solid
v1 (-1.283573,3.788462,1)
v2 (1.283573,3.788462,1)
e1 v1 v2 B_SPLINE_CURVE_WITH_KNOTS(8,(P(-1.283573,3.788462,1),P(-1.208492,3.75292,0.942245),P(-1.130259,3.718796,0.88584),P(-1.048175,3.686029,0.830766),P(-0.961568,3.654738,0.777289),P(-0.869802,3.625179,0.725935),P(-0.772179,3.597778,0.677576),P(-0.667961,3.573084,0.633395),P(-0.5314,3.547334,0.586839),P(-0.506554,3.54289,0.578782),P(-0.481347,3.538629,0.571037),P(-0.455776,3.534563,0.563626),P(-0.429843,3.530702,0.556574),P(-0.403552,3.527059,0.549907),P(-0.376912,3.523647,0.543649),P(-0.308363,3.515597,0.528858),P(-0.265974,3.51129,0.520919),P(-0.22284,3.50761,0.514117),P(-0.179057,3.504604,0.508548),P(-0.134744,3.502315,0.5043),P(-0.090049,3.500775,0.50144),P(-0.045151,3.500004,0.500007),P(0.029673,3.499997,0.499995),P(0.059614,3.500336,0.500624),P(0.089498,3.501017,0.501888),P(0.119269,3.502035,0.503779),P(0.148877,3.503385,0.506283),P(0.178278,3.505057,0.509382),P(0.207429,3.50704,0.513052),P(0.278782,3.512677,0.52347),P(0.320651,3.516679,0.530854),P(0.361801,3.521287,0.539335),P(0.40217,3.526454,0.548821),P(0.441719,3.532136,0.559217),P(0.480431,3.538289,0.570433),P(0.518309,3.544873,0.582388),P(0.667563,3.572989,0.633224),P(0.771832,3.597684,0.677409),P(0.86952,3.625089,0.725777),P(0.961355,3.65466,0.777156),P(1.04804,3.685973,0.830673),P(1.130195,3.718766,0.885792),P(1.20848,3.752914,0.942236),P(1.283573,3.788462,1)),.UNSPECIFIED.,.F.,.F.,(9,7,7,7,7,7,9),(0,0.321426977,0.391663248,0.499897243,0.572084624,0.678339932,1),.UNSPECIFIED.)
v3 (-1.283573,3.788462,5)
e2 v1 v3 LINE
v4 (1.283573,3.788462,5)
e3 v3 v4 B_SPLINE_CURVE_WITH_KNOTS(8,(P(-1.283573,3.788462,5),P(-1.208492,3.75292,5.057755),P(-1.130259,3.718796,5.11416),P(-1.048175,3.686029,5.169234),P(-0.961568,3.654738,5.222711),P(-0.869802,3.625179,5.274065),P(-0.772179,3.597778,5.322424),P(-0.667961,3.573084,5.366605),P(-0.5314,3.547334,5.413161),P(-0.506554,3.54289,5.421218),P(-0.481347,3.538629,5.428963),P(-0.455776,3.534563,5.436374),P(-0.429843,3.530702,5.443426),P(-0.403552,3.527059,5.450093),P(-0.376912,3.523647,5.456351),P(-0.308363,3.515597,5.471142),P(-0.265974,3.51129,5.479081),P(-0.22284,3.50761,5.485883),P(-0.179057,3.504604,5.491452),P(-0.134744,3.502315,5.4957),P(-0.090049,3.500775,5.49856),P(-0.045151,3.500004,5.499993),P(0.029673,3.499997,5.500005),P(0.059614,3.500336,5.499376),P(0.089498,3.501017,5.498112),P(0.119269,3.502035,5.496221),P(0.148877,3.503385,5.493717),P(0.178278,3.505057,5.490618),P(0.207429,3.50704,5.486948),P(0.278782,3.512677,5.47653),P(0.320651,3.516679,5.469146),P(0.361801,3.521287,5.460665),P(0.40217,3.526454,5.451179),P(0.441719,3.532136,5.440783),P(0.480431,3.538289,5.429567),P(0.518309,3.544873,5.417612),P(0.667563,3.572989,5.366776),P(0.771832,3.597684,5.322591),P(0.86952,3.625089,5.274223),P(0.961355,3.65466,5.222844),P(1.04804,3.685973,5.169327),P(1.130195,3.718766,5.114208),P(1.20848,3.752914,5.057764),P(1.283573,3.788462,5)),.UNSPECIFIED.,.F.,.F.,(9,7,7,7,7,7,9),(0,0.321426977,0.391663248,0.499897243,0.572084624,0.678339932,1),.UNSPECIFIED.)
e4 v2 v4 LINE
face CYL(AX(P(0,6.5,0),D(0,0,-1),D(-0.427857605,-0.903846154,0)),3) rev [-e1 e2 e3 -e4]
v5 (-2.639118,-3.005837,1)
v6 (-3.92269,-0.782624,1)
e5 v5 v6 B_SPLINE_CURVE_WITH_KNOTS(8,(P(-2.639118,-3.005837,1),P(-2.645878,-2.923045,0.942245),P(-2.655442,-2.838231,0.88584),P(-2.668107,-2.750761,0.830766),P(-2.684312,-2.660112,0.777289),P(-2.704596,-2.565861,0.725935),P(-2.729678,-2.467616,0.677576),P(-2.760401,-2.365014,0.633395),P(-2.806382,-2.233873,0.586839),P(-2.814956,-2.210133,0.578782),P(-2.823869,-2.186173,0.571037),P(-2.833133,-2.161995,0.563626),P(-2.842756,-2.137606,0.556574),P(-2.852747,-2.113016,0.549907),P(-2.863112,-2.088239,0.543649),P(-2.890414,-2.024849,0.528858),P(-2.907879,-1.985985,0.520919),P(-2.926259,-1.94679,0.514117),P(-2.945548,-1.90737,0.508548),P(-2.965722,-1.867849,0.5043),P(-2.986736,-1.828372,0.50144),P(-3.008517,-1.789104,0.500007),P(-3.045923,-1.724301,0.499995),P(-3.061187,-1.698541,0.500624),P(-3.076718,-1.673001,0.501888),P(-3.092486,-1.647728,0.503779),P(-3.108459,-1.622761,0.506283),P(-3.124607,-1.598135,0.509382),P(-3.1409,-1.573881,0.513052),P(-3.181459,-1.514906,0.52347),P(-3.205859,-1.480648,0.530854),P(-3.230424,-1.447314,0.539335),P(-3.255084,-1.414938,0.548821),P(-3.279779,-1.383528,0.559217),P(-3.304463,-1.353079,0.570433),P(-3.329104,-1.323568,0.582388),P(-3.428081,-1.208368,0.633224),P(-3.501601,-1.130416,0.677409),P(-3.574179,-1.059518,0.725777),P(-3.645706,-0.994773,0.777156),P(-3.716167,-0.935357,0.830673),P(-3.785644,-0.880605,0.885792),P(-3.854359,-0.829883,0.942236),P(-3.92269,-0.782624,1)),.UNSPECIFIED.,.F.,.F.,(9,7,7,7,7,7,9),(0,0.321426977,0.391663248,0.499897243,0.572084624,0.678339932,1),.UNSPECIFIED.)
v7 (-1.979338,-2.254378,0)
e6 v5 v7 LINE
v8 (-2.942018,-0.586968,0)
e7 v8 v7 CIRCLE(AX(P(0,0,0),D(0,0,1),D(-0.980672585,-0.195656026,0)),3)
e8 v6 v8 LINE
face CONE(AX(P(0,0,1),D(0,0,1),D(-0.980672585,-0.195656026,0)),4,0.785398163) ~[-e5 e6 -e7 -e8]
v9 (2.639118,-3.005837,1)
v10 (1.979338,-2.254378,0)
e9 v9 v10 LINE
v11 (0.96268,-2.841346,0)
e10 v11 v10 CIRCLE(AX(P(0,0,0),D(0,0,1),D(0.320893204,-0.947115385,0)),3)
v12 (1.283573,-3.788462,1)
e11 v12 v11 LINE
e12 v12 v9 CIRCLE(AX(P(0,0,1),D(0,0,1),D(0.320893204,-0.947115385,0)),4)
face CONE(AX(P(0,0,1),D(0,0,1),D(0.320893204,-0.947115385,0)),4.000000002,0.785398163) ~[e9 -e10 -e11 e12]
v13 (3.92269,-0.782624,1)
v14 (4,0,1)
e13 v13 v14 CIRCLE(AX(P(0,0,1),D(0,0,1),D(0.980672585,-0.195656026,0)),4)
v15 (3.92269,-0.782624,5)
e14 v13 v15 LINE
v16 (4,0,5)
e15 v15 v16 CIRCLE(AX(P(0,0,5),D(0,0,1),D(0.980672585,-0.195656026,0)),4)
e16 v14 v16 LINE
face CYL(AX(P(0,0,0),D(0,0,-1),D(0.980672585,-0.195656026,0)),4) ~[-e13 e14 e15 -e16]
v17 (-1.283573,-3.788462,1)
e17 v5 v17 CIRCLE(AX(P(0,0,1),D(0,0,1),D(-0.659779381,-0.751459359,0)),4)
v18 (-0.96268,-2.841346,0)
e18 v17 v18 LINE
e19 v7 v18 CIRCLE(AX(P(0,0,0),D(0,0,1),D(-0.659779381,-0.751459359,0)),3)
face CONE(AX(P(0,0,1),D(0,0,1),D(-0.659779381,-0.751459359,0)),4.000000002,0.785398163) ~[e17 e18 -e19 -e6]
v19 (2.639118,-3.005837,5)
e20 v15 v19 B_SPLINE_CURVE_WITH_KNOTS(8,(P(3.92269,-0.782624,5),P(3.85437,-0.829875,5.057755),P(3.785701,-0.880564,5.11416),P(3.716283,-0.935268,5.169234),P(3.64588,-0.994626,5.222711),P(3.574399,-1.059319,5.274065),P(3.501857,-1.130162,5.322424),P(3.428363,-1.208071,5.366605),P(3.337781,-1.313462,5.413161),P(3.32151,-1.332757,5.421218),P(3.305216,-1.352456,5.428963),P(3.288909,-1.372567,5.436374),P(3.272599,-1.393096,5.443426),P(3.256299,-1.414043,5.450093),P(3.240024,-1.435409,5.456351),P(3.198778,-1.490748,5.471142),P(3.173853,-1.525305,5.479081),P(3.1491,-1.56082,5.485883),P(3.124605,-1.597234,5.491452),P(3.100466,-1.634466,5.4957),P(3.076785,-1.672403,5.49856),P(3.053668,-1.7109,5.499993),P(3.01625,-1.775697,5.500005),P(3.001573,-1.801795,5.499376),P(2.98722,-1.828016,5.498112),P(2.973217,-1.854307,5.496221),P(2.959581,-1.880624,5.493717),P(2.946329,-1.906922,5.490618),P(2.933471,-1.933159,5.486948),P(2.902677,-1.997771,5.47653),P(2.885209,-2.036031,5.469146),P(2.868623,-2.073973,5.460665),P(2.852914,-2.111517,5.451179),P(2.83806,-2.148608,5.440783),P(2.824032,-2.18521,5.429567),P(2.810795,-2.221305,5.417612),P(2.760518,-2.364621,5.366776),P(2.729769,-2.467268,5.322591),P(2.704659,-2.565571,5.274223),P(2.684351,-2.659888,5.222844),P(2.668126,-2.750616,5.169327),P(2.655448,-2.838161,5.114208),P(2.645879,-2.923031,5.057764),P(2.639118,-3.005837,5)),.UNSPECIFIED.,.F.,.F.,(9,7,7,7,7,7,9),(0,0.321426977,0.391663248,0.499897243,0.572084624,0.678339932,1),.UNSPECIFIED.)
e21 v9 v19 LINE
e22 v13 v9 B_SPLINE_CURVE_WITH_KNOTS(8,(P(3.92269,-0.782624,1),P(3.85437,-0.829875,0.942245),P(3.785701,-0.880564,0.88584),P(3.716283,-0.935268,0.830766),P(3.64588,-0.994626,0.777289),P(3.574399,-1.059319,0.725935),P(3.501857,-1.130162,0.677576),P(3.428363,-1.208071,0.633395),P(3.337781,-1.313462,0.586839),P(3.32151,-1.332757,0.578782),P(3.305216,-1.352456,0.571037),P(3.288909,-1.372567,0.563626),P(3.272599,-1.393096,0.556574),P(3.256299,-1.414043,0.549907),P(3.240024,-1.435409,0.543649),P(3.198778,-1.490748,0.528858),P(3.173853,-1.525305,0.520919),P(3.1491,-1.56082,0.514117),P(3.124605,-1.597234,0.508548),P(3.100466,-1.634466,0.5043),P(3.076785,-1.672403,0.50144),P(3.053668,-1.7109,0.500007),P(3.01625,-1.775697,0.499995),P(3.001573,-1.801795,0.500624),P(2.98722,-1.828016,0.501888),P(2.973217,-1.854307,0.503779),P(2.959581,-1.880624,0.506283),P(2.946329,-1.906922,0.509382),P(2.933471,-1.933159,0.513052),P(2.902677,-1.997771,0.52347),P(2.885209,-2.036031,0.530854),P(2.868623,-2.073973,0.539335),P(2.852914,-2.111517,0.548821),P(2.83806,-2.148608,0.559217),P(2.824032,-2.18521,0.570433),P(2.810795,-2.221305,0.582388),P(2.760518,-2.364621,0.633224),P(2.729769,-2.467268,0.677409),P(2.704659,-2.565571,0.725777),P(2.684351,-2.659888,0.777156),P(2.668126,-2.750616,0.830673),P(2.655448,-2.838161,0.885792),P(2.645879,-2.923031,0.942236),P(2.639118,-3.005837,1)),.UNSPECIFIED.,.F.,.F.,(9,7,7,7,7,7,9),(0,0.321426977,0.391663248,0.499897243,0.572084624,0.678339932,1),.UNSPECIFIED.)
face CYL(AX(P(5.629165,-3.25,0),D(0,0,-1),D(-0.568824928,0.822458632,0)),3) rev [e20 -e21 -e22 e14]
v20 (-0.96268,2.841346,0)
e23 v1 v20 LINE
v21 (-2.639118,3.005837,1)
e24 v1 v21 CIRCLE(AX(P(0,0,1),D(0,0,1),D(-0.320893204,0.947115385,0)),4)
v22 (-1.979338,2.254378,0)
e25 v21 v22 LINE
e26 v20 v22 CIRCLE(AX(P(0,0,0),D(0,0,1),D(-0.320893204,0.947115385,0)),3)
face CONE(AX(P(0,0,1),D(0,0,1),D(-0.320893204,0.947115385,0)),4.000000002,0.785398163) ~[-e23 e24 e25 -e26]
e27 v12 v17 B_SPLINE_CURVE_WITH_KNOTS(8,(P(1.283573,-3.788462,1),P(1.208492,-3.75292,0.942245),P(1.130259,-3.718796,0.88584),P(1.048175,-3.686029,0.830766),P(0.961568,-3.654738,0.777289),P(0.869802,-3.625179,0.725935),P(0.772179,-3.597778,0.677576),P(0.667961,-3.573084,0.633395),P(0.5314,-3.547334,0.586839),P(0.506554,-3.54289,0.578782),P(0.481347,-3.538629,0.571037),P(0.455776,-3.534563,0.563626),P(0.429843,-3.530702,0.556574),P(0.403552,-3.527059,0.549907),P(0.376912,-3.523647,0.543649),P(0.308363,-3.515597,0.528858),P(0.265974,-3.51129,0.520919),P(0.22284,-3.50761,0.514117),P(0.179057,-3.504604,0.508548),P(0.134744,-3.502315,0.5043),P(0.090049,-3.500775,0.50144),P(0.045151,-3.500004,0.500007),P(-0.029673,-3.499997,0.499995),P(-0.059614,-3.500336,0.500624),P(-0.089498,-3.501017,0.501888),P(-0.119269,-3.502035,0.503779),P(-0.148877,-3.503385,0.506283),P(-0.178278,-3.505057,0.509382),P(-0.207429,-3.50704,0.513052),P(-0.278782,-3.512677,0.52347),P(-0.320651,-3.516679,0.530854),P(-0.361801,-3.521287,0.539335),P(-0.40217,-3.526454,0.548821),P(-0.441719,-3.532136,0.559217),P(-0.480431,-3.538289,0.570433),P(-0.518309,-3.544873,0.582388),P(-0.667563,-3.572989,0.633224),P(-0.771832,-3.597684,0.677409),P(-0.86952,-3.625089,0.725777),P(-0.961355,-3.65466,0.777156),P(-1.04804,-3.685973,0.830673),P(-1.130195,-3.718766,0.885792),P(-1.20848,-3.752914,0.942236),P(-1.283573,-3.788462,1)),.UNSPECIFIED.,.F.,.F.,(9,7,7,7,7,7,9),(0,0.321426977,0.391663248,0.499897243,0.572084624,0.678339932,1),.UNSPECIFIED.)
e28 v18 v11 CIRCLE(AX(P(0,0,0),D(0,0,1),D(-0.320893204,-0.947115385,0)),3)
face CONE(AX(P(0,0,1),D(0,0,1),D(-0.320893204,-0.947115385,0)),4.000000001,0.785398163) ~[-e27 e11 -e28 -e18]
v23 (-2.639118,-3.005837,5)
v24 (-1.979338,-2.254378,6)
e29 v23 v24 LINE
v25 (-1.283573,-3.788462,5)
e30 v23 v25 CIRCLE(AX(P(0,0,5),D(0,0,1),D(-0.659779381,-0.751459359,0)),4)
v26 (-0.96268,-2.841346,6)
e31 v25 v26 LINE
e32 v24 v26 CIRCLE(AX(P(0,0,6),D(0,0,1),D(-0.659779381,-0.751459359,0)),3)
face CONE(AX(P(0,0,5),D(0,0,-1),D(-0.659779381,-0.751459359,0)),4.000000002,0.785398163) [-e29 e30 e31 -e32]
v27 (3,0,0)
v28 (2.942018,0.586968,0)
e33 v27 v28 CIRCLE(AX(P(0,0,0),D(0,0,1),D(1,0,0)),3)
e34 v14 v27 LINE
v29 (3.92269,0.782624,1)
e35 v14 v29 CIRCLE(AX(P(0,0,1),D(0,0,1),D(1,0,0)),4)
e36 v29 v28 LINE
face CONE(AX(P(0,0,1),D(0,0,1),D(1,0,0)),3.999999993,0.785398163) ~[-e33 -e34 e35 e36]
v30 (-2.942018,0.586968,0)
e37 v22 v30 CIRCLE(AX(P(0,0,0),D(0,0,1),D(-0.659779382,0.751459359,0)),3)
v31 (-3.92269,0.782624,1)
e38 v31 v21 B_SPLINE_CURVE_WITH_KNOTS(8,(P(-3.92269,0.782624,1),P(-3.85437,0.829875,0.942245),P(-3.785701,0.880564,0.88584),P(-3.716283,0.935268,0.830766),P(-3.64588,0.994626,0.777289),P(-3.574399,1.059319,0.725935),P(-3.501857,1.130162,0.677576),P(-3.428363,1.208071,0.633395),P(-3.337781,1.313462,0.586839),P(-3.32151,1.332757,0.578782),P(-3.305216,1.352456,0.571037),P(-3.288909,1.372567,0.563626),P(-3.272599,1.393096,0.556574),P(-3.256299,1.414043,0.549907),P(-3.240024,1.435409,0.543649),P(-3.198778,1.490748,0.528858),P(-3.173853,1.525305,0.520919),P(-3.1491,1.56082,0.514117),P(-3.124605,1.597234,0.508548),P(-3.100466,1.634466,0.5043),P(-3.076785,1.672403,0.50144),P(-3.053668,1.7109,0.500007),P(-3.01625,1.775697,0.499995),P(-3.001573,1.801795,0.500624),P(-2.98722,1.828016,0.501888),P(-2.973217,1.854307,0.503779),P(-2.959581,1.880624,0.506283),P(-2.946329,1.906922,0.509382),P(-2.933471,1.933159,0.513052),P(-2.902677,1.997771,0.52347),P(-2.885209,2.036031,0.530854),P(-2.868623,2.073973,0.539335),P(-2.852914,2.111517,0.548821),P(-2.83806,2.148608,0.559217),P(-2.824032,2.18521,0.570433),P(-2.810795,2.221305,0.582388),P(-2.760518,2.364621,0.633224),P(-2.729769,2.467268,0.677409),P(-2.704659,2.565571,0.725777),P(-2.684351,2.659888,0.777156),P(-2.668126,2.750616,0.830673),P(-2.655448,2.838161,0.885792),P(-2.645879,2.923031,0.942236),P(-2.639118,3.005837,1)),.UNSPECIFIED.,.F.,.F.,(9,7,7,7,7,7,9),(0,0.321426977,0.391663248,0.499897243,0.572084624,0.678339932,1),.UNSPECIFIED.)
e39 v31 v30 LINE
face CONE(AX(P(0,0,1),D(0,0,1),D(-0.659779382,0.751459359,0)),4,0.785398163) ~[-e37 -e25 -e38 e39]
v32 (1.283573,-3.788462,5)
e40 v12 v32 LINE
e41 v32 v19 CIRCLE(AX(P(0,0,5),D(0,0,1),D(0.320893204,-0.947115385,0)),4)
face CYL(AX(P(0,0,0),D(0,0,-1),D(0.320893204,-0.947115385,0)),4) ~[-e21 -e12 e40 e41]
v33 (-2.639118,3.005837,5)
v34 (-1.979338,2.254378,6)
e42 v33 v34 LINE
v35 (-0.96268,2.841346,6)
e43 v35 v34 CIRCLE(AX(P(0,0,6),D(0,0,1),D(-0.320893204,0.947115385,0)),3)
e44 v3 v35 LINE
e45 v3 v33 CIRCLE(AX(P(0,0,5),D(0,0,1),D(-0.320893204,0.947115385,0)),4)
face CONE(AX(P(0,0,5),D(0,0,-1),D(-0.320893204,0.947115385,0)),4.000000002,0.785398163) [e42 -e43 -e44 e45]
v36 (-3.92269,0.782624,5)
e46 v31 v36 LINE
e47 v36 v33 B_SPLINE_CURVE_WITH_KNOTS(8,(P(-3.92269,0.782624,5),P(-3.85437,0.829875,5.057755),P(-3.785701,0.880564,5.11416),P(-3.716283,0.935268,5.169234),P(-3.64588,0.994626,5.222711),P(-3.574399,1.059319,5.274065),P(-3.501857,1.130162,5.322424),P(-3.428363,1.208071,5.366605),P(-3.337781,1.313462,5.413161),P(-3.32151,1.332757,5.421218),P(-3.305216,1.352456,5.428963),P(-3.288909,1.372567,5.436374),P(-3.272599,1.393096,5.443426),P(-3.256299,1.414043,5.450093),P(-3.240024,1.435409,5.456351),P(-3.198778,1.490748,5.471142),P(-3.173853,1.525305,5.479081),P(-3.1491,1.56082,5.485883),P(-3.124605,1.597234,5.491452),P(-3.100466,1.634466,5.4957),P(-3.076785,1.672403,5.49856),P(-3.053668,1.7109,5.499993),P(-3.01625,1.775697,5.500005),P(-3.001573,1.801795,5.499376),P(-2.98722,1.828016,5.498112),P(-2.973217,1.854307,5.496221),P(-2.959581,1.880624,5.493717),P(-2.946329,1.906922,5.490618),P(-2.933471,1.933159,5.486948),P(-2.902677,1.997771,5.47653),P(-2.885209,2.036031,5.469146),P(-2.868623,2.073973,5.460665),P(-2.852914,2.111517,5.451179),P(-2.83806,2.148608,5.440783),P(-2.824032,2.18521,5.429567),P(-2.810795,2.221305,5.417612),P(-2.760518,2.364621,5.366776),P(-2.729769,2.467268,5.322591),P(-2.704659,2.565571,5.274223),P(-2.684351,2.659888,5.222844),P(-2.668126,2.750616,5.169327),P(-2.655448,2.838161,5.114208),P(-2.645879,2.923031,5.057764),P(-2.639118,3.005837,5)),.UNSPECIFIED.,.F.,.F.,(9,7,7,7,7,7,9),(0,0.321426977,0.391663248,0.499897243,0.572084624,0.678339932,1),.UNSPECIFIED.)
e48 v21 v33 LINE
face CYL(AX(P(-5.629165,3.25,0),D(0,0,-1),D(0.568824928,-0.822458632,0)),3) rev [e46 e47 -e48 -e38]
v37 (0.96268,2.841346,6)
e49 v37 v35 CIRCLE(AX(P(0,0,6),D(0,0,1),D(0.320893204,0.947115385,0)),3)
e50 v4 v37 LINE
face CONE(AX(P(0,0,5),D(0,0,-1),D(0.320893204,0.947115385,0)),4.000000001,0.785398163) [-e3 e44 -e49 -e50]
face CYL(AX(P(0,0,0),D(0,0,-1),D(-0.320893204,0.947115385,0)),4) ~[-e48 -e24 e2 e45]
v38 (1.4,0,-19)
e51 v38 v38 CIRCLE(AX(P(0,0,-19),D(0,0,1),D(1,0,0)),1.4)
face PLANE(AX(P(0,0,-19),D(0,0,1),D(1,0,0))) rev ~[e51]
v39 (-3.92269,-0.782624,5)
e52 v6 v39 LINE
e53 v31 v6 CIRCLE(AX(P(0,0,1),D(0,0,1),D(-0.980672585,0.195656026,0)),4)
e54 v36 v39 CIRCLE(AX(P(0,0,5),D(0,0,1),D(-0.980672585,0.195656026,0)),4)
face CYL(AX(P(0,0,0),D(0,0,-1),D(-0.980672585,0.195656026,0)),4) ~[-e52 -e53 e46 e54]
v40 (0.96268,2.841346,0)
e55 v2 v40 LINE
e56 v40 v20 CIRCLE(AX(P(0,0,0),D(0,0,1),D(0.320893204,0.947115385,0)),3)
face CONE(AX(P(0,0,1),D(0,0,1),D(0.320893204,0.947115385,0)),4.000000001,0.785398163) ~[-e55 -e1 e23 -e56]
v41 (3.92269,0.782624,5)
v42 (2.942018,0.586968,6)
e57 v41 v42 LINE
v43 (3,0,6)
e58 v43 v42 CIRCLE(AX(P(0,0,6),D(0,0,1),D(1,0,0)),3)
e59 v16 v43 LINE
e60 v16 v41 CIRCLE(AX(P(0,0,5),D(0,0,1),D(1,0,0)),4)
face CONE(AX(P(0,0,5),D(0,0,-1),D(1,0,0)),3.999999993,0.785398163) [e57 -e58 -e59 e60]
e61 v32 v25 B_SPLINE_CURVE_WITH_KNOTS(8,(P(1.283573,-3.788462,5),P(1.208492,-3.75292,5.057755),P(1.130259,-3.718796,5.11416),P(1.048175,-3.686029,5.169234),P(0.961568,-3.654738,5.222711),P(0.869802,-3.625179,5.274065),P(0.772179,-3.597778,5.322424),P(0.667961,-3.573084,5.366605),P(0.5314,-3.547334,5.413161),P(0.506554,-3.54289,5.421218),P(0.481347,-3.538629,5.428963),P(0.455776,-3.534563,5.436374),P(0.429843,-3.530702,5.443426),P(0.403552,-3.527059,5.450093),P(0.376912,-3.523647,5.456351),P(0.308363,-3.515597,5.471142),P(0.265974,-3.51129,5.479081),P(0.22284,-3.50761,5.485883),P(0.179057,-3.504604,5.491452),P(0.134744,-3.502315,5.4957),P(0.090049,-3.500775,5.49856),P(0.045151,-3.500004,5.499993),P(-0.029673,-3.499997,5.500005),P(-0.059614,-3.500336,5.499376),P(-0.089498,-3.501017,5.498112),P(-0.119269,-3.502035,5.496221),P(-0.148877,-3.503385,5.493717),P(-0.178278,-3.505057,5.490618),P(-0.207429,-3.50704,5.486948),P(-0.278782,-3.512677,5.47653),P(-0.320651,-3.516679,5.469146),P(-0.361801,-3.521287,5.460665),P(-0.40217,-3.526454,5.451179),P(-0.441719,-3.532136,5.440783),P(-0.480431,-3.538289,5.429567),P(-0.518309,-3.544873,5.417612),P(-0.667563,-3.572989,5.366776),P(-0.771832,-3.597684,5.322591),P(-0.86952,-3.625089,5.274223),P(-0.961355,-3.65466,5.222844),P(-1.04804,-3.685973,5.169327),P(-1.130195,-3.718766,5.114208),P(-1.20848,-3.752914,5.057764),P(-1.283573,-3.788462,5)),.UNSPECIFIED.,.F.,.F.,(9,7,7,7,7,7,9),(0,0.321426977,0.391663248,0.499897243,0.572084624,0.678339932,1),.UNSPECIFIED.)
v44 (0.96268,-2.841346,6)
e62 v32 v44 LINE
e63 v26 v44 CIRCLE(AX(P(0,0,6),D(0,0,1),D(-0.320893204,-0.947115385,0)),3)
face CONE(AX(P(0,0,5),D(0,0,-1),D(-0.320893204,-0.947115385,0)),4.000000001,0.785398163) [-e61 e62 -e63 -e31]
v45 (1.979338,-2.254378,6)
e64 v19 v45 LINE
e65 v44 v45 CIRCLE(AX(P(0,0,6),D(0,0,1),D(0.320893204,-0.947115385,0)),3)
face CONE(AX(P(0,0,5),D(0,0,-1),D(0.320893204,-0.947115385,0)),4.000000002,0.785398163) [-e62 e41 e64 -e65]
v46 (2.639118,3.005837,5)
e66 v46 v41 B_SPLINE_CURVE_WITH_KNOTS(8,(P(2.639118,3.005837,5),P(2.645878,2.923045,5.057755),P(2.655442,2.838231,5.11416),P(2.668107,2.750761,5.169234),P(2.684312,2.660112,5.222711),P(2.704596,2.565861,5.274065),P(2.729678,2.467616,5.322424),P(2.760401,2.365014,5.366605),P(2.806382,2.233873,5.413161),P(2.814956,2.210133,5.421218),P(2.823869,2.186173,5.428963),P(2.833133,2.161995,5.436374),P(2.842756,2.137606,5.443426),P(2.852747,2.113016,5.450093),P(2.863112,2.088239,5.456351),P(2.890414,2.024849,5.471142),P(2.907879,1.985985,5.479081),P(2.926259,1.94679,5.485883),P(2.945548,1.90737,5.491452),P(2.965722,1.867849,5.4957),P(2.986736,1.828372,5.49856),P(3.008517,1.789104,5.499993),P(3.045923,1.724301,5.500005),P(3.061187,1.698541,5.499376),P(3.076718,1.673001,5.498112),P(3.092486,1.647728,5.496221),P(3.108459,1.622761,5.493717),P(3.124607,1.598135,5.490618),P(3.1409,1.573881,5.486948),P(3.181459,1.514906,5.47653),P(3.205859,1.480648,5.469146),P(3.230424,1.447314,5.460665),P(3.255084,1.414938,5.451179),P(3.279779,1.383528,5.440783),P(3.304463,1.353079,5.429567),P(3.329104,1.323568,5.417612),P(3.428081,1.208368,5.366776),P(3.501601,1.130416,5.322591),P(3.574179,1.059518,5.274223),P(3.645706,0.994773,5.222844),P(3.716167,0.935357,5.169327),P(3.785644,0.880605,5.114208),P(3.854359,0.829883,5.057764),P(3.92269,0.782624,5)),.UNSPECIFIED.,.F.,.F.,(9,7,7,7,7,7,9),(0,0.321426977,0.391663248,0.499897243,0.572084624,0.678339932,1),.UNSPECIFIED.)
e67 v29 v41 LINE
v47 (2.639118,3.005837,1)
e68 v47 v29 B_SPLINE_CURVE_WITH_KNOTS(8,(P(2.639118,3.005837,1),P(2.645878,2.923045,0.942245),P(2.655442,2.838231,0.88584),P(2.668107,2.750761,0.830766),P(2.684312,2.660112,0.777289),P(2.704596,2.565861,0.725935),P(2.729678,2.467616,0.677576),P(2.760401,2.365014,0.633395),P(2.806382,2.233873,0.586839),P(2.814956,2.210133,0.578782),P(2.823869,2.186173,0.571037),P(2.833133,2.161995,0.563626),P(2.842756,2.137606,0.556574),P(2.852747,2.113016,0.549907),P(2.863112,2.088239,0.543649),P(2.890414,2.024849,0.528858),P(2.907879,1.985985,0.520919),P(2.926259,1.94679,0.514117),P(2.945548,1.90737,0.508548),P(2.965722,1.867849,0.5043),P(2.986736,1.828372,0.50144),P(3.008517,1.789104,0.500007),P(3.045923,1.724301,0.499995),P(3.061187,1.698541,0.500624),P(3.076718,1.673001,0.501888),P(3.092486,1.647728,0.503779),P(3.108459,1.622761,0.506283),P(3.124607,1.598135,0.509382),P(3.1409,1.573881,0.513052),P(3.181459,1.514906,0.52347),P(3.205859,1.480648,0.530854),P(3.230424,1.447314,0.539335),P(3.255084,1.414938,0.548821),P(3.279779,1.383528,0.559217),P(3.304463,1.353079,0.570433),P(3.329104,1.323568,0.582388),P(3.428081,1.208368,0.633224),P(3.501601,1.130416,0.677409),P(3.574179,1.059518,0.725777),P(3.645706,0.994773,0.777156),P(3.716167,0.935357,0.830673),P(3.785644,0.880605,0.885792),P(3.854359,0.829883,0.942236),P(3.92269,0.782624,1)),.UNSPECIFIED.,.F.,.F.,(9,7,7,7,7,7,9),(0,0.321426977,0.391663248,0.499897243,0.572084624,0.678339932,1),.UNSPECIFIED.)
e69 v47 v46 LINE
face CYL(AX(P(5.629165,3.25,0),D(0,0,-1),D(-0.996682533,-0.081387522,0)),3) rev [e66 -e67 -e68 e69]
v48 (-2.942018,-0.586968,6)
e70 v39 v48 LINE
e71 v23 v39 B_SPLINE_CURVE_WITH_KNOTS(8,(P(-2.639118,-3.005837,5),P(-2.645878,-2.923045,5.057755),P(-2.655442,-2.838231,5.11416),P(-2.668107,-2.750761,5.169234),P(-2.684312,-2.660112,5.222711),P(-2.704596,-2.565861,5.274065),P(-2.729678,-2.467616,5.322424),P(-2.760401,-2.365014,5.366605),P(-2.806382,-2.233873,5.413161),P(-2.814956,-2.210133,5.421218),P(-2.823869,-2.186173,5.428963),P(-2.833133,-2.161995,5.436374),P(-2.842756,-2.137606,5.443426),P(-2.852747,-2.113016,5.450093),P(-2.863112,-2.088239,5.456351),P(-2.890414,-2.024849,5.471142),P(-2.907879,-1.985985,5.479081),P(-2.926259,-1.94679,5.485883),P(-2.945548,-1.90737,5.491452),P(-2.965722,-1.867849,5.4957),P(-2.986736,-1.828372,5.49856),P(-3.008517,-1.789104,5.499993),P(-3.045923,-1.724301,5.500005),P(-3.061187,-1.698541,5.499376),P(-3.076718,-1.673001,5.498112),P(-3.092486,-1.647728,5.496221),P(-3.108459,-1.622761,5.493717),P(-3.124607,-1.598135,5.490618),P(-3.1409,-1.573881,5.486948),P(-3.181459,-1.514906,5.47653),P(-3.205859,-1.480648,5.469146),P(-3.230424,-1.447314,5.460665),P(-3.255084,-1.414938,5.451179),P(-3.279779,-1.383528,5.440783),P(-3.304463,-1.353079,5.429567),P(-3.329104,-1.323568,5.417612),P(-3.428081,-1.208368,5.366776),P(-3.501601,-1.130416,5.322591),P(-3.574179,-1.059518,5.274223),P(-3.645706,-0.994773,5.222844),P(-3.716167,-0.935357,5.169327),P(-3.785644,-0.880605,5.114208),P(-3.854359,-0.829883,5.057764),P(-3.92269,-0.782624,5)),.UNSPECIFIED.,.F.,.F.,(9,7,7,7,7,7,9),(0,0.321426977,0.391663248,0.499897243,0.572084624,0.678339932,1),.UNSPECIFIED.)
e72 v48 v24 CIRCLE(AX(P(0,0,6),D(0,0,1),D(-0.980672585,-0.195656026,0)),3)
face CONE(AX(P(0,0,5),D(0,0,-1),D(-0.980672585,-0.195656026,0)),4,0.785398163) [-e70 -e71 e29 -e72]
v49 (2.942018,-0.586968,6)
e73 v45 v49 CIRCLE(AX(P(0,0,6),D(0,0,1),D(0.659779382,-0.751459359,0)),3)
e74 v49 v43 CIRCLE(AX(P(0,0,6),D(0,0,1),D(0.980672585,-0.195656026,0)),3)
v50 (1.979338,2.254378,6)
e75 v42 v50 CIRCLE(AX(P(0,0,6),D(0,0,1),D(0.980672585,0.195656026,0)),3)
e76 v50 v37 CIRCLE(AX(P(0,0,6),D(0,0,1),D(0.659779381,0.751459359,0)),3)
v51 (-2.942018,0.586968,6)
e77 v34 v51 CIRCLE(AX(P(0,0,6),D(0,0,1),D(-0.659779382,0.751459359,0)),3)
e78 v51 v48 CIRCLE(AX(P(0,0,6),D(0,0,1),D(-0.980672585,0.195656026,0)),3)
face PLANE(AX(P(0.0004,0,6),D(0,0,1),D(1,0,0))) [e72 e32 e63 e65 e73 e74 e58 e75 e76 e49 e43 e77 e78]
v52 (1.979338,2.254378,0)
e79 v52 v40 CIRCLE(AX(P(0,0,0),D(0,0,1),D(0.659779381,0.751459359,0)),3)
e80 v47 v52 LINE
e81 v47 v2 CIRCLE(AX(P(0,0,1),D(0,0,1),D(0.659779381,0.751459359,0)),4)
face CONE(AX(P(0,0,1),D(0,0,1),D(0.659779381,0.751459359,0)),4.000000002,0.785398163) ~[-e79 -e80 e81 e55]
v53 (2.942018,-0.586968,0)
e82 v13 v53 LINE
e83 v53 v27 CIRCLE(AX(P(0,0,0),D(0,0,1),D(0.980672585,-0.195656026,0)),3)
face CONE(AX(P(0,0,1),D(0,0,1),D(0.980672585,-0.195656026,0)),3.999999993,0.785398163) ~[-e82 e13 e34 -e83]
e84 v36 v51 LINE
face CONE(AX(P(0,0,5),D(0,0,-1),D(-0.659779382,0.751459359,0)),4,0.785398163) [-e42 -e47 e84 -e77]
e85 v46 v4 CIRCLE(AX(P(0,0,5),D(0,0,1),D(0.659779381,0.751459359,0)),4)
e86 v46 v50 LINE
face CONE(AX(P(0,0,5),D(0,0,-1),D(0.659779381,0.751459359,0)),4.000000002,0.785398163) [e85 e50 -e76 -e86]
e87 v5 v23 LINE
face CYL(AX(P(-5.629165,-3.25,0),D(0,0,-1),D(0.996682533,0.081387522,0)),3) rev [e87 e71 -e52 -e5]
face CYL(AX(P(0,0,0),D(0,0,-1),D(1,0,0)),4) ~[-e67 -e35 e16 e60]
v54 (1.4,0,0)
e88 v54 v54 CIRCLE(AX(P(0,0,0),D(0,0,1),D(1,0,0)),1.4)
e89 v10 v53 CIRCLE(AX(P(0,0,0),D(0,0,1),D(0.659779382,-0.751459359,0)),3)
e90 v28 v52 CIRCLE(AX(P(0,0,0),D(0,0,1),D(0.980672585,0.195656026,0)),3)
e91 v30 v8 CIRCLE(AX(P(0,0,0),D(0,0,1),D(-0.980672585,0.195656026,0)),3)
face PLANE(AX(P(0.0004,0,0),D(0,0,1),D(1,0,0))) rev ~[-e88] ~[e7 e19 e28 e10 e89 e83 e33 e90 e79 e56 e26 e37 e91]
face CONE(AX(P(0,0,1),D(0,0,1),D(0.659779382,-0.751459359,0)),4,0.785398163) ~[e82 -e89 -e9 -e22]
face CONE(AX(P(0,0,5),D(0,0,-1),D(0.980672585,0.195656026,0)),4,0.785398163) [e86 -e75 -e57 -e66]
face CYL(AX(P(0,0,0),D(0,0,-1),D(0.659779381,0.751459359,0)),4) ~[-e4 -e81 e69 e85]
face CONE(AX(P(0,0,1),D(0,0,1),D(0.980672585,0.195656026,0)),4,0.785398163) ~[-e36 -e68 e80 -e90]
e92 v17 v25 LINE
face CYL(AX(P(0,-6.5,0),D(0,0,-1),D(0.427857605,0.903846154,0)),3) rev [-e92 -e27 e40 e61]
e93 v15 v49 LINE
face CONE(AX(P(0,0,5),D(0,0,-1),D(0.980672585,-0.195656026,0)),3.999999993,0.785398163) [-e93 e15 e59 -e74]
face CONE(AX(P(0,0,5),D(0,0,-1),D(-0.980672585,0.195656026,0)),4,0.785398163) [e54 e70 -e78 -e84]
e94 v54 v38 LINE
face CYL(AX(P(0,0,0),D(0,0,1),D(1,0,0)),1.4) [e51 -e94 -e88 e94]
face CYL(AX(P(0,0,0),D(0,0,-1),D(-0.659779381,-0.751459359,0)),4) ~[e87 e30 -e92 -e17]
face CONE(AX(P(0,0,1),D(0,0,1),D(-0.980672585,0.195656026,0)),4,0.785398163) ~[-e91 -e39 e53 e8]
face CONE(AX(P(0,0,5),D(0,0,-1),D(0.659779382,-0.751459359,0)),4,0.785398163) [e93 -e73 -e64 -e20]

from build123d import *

# Parameters (mm, degrees)
F0_R     = 1.4
F1_DEPTH = 6
F2_SIZE  = 1
F3_DEPTH = 6.001
F4_DEPTH = 19


with BuildPart() as f1:
    # F0 (on Top) → F1 (new body)
    with BuildSketch(Plane.XY):
        with BuildLine():
            ThreePointArc((3.9226903411, -0.7826241038), (3.9806256647, -0.3932166296), (4, 0))
            ThreePointArc((4, 0), (3.9806256647, 0.3932166296), (3.9226903411, 0.7826241038))
            ThreePointArc((3.9226903411, 0.7826241038), (3.0310889132, 1.75), (2.639117526, 3.0058374347))
            ThreePointArc((2.639117526, 3.0058374347), (2, 3.4641016151), (1.2835728151, 3.7884615385))
            ThreePointArc((1.2835728151, 3.7884615385), (0, 3.5), (-1.2835728151, 3.7884615385))
            ThreePointArc((-1.2835728151, 3.7884615385), (-2, 3.4641016151), (-2.639117526, 3.0058374347))
            ThreePointArc((-2.639117526, 3.0058374347), (-3.0310889132, 1.75), (-3.9226903411, 0.7826241038))
            ThreePointArc((-3.9226903411, 0.7826241038), (-4, 0), (-3.9226903411, -0.7826241038))
            ThreePointArc((-3.9226903411, -0.7826241038), (-3.0310889132, -1.75), (-2.639117526, -3.0058374347))
            ThreePointArc((-2.639117526, -3.0058374347), (-2, -3.4641016151), (-1.2835728151, -3.7884615385))
            ThreePointArc((-1.2835728151, -3.7884615385), (0, -3.5), (1.2835728151, -3.7884615385))
            ThreePointArc((1.2835728151, -3.7884615385), (2, -3.4641016151), (2.639117526, -3.0058374347))
            ThreePointArc((2.639117526, -3.0058374347), (3.0310889132, -1.75), (3.9226903411, -0.7826241038))
        make_face()
        Circle(F0_R, mode=Mode.SUBTRACT)
        Circle(F0_R)
        with BuildLine():
            ThreePointArc((-1.2835728151, 3.7884615385), (0, 3.5), (1.2835728151, 3.7884615385))
            ThreePointArc((1.2835728151, 3.7884615385), (0, 4), (-1.2835728151, 3.7884615385))
        make_face()
        with BuildLine():
            ThreePointArc((2.639117526, 3.0058374347), (3.0310889132, 1.75), (3.9226903411, 0.7826241038))
            ThreePointArc((3.9226903411, 0.7826241038), (3.4641016151, 2), (2.639117526, 3.0058374347))
        make_face()
        with BuildLine():
            ThreePointArc((2.639117526, -3.0058374347), (3.4641016151, -2), (3.9226903411, -0.7826241038))
            ThreePointArc((3.9226903411, -0.7826241038), (3.0310889132, -1.75), (2.639117526, -3.0058374347))
        make_face()
        with BuildLine():
            ThreePointArc((-1.2835728151, -3.7884615385), (0, -4), (1.2835728151, -3.7884615385))
            ThreePointArc((1.2835728151, -3.7884615385), (0, -3.5), (-1.2835728151, -3.7884615385))
        make_face()
        with BuildLine():
            ThreePointArc((-3.9226903411, -0.7826241038), (-3.4641016151, -2), (-2.639117526, -3.0058374347))
            ThreePointArc((-2.639117526, -3.0058374347), (-3.0310889132, -1.75), (-3.9226903411, -0.7826241038))
        make_face()
        with BuildLine():
            ThreePointArc((-3.9226903411, 0.7826241038), (-3.0310889132, 1.75), (-2.639117526, 3.0058374347))
            ThreePointArc((-2.639117526, 3.0058374347), (-3.4641016151, 2), (-3.9226903411, 0.7826241038))
        make_face()
    extrude(amount=F1_DEPTH)

    # F2
    f2_edges = [f1.edges().sort_by_distance(p)[0] for p in [
        (2.639118, -3.005837, 6),
        (2.639118, -3.005837, 0),
    ]]
    chamfer(f2_edges, length=F2_SIZE)

    # F0 (on Top) → F3 (cut, through all)
    with BuildSketch(Plane.XY):
        with BuildLine():
            ThreePointArc((-1.2835728151, -3.7884615385), (0, -4), (1.2835728151, -3.7884615385))
            ThreePointArc((1.2835728151, -3.7884615385), (0, -3.5), (-1.2835728151, -3.7884615385))
        make_face()
        with BuildLine():
            ThreePointArc((-3.9226903411, -0.7826241038), (-3.4641016151, -2), (-2.639117526, -3.0058374347))
            ThreePointArc((-2.639117526, -3.0058374347), (-3.0310889132, -1.75), (-3.9226903411, -0.7826241038))
        make_face()
        with BuildLine():
            ThreePointArc((2.639117526, -3.0058374347), (3.4641016151, -2), (3.9226903411, -0.7826241038))
            ThreePointArc((3.9226903411, -0.7826241038), (3.0310889132, -1.75), (2.639117526, -3.0058374347))
        make_face()
        with BuildLine():
            ThreePointArc((2.639117526, 3.0058374347), (3.0310889132, 1.75), (3.9226903411, 0.7826241038))
            ThreePointArc((3.9226903411, 0.7826241038), (3.4641016151, 2), (2.639117526, 3.0058374347))
        make_face()
        with BuildLine():
            ThreePointArc((-1.2835728151, 3.7884615385), (0, 3.5), (1.2835728151, 3.7884615385))
            ThreePointArc((1.2835728151, 3.7884615385), (0, 4), (-1.2835728151, 3.7884615385))
        make_face()
        with BuildLine():
            ThreePointArc((-3.9226903411, 0.7826241038), (-3.0310889132, 1.75), (-2.639117526, 3.0058374347))
            ThreePointArc((-2.639117526, 3.0058374347), (-3.4641016151, 2), (-3.9226903411, 0.7826241038))
        make_face()
    extrude(amount=F3_DEPTH, mode=Mode.SUBTRACT)

    # F0 (on Top) → F4 (join)
    with BuildSketch(Plane.XY):
        Circle(F0_R)
    extrude(amount=-F4_DEPTH)


solid = f1.part
